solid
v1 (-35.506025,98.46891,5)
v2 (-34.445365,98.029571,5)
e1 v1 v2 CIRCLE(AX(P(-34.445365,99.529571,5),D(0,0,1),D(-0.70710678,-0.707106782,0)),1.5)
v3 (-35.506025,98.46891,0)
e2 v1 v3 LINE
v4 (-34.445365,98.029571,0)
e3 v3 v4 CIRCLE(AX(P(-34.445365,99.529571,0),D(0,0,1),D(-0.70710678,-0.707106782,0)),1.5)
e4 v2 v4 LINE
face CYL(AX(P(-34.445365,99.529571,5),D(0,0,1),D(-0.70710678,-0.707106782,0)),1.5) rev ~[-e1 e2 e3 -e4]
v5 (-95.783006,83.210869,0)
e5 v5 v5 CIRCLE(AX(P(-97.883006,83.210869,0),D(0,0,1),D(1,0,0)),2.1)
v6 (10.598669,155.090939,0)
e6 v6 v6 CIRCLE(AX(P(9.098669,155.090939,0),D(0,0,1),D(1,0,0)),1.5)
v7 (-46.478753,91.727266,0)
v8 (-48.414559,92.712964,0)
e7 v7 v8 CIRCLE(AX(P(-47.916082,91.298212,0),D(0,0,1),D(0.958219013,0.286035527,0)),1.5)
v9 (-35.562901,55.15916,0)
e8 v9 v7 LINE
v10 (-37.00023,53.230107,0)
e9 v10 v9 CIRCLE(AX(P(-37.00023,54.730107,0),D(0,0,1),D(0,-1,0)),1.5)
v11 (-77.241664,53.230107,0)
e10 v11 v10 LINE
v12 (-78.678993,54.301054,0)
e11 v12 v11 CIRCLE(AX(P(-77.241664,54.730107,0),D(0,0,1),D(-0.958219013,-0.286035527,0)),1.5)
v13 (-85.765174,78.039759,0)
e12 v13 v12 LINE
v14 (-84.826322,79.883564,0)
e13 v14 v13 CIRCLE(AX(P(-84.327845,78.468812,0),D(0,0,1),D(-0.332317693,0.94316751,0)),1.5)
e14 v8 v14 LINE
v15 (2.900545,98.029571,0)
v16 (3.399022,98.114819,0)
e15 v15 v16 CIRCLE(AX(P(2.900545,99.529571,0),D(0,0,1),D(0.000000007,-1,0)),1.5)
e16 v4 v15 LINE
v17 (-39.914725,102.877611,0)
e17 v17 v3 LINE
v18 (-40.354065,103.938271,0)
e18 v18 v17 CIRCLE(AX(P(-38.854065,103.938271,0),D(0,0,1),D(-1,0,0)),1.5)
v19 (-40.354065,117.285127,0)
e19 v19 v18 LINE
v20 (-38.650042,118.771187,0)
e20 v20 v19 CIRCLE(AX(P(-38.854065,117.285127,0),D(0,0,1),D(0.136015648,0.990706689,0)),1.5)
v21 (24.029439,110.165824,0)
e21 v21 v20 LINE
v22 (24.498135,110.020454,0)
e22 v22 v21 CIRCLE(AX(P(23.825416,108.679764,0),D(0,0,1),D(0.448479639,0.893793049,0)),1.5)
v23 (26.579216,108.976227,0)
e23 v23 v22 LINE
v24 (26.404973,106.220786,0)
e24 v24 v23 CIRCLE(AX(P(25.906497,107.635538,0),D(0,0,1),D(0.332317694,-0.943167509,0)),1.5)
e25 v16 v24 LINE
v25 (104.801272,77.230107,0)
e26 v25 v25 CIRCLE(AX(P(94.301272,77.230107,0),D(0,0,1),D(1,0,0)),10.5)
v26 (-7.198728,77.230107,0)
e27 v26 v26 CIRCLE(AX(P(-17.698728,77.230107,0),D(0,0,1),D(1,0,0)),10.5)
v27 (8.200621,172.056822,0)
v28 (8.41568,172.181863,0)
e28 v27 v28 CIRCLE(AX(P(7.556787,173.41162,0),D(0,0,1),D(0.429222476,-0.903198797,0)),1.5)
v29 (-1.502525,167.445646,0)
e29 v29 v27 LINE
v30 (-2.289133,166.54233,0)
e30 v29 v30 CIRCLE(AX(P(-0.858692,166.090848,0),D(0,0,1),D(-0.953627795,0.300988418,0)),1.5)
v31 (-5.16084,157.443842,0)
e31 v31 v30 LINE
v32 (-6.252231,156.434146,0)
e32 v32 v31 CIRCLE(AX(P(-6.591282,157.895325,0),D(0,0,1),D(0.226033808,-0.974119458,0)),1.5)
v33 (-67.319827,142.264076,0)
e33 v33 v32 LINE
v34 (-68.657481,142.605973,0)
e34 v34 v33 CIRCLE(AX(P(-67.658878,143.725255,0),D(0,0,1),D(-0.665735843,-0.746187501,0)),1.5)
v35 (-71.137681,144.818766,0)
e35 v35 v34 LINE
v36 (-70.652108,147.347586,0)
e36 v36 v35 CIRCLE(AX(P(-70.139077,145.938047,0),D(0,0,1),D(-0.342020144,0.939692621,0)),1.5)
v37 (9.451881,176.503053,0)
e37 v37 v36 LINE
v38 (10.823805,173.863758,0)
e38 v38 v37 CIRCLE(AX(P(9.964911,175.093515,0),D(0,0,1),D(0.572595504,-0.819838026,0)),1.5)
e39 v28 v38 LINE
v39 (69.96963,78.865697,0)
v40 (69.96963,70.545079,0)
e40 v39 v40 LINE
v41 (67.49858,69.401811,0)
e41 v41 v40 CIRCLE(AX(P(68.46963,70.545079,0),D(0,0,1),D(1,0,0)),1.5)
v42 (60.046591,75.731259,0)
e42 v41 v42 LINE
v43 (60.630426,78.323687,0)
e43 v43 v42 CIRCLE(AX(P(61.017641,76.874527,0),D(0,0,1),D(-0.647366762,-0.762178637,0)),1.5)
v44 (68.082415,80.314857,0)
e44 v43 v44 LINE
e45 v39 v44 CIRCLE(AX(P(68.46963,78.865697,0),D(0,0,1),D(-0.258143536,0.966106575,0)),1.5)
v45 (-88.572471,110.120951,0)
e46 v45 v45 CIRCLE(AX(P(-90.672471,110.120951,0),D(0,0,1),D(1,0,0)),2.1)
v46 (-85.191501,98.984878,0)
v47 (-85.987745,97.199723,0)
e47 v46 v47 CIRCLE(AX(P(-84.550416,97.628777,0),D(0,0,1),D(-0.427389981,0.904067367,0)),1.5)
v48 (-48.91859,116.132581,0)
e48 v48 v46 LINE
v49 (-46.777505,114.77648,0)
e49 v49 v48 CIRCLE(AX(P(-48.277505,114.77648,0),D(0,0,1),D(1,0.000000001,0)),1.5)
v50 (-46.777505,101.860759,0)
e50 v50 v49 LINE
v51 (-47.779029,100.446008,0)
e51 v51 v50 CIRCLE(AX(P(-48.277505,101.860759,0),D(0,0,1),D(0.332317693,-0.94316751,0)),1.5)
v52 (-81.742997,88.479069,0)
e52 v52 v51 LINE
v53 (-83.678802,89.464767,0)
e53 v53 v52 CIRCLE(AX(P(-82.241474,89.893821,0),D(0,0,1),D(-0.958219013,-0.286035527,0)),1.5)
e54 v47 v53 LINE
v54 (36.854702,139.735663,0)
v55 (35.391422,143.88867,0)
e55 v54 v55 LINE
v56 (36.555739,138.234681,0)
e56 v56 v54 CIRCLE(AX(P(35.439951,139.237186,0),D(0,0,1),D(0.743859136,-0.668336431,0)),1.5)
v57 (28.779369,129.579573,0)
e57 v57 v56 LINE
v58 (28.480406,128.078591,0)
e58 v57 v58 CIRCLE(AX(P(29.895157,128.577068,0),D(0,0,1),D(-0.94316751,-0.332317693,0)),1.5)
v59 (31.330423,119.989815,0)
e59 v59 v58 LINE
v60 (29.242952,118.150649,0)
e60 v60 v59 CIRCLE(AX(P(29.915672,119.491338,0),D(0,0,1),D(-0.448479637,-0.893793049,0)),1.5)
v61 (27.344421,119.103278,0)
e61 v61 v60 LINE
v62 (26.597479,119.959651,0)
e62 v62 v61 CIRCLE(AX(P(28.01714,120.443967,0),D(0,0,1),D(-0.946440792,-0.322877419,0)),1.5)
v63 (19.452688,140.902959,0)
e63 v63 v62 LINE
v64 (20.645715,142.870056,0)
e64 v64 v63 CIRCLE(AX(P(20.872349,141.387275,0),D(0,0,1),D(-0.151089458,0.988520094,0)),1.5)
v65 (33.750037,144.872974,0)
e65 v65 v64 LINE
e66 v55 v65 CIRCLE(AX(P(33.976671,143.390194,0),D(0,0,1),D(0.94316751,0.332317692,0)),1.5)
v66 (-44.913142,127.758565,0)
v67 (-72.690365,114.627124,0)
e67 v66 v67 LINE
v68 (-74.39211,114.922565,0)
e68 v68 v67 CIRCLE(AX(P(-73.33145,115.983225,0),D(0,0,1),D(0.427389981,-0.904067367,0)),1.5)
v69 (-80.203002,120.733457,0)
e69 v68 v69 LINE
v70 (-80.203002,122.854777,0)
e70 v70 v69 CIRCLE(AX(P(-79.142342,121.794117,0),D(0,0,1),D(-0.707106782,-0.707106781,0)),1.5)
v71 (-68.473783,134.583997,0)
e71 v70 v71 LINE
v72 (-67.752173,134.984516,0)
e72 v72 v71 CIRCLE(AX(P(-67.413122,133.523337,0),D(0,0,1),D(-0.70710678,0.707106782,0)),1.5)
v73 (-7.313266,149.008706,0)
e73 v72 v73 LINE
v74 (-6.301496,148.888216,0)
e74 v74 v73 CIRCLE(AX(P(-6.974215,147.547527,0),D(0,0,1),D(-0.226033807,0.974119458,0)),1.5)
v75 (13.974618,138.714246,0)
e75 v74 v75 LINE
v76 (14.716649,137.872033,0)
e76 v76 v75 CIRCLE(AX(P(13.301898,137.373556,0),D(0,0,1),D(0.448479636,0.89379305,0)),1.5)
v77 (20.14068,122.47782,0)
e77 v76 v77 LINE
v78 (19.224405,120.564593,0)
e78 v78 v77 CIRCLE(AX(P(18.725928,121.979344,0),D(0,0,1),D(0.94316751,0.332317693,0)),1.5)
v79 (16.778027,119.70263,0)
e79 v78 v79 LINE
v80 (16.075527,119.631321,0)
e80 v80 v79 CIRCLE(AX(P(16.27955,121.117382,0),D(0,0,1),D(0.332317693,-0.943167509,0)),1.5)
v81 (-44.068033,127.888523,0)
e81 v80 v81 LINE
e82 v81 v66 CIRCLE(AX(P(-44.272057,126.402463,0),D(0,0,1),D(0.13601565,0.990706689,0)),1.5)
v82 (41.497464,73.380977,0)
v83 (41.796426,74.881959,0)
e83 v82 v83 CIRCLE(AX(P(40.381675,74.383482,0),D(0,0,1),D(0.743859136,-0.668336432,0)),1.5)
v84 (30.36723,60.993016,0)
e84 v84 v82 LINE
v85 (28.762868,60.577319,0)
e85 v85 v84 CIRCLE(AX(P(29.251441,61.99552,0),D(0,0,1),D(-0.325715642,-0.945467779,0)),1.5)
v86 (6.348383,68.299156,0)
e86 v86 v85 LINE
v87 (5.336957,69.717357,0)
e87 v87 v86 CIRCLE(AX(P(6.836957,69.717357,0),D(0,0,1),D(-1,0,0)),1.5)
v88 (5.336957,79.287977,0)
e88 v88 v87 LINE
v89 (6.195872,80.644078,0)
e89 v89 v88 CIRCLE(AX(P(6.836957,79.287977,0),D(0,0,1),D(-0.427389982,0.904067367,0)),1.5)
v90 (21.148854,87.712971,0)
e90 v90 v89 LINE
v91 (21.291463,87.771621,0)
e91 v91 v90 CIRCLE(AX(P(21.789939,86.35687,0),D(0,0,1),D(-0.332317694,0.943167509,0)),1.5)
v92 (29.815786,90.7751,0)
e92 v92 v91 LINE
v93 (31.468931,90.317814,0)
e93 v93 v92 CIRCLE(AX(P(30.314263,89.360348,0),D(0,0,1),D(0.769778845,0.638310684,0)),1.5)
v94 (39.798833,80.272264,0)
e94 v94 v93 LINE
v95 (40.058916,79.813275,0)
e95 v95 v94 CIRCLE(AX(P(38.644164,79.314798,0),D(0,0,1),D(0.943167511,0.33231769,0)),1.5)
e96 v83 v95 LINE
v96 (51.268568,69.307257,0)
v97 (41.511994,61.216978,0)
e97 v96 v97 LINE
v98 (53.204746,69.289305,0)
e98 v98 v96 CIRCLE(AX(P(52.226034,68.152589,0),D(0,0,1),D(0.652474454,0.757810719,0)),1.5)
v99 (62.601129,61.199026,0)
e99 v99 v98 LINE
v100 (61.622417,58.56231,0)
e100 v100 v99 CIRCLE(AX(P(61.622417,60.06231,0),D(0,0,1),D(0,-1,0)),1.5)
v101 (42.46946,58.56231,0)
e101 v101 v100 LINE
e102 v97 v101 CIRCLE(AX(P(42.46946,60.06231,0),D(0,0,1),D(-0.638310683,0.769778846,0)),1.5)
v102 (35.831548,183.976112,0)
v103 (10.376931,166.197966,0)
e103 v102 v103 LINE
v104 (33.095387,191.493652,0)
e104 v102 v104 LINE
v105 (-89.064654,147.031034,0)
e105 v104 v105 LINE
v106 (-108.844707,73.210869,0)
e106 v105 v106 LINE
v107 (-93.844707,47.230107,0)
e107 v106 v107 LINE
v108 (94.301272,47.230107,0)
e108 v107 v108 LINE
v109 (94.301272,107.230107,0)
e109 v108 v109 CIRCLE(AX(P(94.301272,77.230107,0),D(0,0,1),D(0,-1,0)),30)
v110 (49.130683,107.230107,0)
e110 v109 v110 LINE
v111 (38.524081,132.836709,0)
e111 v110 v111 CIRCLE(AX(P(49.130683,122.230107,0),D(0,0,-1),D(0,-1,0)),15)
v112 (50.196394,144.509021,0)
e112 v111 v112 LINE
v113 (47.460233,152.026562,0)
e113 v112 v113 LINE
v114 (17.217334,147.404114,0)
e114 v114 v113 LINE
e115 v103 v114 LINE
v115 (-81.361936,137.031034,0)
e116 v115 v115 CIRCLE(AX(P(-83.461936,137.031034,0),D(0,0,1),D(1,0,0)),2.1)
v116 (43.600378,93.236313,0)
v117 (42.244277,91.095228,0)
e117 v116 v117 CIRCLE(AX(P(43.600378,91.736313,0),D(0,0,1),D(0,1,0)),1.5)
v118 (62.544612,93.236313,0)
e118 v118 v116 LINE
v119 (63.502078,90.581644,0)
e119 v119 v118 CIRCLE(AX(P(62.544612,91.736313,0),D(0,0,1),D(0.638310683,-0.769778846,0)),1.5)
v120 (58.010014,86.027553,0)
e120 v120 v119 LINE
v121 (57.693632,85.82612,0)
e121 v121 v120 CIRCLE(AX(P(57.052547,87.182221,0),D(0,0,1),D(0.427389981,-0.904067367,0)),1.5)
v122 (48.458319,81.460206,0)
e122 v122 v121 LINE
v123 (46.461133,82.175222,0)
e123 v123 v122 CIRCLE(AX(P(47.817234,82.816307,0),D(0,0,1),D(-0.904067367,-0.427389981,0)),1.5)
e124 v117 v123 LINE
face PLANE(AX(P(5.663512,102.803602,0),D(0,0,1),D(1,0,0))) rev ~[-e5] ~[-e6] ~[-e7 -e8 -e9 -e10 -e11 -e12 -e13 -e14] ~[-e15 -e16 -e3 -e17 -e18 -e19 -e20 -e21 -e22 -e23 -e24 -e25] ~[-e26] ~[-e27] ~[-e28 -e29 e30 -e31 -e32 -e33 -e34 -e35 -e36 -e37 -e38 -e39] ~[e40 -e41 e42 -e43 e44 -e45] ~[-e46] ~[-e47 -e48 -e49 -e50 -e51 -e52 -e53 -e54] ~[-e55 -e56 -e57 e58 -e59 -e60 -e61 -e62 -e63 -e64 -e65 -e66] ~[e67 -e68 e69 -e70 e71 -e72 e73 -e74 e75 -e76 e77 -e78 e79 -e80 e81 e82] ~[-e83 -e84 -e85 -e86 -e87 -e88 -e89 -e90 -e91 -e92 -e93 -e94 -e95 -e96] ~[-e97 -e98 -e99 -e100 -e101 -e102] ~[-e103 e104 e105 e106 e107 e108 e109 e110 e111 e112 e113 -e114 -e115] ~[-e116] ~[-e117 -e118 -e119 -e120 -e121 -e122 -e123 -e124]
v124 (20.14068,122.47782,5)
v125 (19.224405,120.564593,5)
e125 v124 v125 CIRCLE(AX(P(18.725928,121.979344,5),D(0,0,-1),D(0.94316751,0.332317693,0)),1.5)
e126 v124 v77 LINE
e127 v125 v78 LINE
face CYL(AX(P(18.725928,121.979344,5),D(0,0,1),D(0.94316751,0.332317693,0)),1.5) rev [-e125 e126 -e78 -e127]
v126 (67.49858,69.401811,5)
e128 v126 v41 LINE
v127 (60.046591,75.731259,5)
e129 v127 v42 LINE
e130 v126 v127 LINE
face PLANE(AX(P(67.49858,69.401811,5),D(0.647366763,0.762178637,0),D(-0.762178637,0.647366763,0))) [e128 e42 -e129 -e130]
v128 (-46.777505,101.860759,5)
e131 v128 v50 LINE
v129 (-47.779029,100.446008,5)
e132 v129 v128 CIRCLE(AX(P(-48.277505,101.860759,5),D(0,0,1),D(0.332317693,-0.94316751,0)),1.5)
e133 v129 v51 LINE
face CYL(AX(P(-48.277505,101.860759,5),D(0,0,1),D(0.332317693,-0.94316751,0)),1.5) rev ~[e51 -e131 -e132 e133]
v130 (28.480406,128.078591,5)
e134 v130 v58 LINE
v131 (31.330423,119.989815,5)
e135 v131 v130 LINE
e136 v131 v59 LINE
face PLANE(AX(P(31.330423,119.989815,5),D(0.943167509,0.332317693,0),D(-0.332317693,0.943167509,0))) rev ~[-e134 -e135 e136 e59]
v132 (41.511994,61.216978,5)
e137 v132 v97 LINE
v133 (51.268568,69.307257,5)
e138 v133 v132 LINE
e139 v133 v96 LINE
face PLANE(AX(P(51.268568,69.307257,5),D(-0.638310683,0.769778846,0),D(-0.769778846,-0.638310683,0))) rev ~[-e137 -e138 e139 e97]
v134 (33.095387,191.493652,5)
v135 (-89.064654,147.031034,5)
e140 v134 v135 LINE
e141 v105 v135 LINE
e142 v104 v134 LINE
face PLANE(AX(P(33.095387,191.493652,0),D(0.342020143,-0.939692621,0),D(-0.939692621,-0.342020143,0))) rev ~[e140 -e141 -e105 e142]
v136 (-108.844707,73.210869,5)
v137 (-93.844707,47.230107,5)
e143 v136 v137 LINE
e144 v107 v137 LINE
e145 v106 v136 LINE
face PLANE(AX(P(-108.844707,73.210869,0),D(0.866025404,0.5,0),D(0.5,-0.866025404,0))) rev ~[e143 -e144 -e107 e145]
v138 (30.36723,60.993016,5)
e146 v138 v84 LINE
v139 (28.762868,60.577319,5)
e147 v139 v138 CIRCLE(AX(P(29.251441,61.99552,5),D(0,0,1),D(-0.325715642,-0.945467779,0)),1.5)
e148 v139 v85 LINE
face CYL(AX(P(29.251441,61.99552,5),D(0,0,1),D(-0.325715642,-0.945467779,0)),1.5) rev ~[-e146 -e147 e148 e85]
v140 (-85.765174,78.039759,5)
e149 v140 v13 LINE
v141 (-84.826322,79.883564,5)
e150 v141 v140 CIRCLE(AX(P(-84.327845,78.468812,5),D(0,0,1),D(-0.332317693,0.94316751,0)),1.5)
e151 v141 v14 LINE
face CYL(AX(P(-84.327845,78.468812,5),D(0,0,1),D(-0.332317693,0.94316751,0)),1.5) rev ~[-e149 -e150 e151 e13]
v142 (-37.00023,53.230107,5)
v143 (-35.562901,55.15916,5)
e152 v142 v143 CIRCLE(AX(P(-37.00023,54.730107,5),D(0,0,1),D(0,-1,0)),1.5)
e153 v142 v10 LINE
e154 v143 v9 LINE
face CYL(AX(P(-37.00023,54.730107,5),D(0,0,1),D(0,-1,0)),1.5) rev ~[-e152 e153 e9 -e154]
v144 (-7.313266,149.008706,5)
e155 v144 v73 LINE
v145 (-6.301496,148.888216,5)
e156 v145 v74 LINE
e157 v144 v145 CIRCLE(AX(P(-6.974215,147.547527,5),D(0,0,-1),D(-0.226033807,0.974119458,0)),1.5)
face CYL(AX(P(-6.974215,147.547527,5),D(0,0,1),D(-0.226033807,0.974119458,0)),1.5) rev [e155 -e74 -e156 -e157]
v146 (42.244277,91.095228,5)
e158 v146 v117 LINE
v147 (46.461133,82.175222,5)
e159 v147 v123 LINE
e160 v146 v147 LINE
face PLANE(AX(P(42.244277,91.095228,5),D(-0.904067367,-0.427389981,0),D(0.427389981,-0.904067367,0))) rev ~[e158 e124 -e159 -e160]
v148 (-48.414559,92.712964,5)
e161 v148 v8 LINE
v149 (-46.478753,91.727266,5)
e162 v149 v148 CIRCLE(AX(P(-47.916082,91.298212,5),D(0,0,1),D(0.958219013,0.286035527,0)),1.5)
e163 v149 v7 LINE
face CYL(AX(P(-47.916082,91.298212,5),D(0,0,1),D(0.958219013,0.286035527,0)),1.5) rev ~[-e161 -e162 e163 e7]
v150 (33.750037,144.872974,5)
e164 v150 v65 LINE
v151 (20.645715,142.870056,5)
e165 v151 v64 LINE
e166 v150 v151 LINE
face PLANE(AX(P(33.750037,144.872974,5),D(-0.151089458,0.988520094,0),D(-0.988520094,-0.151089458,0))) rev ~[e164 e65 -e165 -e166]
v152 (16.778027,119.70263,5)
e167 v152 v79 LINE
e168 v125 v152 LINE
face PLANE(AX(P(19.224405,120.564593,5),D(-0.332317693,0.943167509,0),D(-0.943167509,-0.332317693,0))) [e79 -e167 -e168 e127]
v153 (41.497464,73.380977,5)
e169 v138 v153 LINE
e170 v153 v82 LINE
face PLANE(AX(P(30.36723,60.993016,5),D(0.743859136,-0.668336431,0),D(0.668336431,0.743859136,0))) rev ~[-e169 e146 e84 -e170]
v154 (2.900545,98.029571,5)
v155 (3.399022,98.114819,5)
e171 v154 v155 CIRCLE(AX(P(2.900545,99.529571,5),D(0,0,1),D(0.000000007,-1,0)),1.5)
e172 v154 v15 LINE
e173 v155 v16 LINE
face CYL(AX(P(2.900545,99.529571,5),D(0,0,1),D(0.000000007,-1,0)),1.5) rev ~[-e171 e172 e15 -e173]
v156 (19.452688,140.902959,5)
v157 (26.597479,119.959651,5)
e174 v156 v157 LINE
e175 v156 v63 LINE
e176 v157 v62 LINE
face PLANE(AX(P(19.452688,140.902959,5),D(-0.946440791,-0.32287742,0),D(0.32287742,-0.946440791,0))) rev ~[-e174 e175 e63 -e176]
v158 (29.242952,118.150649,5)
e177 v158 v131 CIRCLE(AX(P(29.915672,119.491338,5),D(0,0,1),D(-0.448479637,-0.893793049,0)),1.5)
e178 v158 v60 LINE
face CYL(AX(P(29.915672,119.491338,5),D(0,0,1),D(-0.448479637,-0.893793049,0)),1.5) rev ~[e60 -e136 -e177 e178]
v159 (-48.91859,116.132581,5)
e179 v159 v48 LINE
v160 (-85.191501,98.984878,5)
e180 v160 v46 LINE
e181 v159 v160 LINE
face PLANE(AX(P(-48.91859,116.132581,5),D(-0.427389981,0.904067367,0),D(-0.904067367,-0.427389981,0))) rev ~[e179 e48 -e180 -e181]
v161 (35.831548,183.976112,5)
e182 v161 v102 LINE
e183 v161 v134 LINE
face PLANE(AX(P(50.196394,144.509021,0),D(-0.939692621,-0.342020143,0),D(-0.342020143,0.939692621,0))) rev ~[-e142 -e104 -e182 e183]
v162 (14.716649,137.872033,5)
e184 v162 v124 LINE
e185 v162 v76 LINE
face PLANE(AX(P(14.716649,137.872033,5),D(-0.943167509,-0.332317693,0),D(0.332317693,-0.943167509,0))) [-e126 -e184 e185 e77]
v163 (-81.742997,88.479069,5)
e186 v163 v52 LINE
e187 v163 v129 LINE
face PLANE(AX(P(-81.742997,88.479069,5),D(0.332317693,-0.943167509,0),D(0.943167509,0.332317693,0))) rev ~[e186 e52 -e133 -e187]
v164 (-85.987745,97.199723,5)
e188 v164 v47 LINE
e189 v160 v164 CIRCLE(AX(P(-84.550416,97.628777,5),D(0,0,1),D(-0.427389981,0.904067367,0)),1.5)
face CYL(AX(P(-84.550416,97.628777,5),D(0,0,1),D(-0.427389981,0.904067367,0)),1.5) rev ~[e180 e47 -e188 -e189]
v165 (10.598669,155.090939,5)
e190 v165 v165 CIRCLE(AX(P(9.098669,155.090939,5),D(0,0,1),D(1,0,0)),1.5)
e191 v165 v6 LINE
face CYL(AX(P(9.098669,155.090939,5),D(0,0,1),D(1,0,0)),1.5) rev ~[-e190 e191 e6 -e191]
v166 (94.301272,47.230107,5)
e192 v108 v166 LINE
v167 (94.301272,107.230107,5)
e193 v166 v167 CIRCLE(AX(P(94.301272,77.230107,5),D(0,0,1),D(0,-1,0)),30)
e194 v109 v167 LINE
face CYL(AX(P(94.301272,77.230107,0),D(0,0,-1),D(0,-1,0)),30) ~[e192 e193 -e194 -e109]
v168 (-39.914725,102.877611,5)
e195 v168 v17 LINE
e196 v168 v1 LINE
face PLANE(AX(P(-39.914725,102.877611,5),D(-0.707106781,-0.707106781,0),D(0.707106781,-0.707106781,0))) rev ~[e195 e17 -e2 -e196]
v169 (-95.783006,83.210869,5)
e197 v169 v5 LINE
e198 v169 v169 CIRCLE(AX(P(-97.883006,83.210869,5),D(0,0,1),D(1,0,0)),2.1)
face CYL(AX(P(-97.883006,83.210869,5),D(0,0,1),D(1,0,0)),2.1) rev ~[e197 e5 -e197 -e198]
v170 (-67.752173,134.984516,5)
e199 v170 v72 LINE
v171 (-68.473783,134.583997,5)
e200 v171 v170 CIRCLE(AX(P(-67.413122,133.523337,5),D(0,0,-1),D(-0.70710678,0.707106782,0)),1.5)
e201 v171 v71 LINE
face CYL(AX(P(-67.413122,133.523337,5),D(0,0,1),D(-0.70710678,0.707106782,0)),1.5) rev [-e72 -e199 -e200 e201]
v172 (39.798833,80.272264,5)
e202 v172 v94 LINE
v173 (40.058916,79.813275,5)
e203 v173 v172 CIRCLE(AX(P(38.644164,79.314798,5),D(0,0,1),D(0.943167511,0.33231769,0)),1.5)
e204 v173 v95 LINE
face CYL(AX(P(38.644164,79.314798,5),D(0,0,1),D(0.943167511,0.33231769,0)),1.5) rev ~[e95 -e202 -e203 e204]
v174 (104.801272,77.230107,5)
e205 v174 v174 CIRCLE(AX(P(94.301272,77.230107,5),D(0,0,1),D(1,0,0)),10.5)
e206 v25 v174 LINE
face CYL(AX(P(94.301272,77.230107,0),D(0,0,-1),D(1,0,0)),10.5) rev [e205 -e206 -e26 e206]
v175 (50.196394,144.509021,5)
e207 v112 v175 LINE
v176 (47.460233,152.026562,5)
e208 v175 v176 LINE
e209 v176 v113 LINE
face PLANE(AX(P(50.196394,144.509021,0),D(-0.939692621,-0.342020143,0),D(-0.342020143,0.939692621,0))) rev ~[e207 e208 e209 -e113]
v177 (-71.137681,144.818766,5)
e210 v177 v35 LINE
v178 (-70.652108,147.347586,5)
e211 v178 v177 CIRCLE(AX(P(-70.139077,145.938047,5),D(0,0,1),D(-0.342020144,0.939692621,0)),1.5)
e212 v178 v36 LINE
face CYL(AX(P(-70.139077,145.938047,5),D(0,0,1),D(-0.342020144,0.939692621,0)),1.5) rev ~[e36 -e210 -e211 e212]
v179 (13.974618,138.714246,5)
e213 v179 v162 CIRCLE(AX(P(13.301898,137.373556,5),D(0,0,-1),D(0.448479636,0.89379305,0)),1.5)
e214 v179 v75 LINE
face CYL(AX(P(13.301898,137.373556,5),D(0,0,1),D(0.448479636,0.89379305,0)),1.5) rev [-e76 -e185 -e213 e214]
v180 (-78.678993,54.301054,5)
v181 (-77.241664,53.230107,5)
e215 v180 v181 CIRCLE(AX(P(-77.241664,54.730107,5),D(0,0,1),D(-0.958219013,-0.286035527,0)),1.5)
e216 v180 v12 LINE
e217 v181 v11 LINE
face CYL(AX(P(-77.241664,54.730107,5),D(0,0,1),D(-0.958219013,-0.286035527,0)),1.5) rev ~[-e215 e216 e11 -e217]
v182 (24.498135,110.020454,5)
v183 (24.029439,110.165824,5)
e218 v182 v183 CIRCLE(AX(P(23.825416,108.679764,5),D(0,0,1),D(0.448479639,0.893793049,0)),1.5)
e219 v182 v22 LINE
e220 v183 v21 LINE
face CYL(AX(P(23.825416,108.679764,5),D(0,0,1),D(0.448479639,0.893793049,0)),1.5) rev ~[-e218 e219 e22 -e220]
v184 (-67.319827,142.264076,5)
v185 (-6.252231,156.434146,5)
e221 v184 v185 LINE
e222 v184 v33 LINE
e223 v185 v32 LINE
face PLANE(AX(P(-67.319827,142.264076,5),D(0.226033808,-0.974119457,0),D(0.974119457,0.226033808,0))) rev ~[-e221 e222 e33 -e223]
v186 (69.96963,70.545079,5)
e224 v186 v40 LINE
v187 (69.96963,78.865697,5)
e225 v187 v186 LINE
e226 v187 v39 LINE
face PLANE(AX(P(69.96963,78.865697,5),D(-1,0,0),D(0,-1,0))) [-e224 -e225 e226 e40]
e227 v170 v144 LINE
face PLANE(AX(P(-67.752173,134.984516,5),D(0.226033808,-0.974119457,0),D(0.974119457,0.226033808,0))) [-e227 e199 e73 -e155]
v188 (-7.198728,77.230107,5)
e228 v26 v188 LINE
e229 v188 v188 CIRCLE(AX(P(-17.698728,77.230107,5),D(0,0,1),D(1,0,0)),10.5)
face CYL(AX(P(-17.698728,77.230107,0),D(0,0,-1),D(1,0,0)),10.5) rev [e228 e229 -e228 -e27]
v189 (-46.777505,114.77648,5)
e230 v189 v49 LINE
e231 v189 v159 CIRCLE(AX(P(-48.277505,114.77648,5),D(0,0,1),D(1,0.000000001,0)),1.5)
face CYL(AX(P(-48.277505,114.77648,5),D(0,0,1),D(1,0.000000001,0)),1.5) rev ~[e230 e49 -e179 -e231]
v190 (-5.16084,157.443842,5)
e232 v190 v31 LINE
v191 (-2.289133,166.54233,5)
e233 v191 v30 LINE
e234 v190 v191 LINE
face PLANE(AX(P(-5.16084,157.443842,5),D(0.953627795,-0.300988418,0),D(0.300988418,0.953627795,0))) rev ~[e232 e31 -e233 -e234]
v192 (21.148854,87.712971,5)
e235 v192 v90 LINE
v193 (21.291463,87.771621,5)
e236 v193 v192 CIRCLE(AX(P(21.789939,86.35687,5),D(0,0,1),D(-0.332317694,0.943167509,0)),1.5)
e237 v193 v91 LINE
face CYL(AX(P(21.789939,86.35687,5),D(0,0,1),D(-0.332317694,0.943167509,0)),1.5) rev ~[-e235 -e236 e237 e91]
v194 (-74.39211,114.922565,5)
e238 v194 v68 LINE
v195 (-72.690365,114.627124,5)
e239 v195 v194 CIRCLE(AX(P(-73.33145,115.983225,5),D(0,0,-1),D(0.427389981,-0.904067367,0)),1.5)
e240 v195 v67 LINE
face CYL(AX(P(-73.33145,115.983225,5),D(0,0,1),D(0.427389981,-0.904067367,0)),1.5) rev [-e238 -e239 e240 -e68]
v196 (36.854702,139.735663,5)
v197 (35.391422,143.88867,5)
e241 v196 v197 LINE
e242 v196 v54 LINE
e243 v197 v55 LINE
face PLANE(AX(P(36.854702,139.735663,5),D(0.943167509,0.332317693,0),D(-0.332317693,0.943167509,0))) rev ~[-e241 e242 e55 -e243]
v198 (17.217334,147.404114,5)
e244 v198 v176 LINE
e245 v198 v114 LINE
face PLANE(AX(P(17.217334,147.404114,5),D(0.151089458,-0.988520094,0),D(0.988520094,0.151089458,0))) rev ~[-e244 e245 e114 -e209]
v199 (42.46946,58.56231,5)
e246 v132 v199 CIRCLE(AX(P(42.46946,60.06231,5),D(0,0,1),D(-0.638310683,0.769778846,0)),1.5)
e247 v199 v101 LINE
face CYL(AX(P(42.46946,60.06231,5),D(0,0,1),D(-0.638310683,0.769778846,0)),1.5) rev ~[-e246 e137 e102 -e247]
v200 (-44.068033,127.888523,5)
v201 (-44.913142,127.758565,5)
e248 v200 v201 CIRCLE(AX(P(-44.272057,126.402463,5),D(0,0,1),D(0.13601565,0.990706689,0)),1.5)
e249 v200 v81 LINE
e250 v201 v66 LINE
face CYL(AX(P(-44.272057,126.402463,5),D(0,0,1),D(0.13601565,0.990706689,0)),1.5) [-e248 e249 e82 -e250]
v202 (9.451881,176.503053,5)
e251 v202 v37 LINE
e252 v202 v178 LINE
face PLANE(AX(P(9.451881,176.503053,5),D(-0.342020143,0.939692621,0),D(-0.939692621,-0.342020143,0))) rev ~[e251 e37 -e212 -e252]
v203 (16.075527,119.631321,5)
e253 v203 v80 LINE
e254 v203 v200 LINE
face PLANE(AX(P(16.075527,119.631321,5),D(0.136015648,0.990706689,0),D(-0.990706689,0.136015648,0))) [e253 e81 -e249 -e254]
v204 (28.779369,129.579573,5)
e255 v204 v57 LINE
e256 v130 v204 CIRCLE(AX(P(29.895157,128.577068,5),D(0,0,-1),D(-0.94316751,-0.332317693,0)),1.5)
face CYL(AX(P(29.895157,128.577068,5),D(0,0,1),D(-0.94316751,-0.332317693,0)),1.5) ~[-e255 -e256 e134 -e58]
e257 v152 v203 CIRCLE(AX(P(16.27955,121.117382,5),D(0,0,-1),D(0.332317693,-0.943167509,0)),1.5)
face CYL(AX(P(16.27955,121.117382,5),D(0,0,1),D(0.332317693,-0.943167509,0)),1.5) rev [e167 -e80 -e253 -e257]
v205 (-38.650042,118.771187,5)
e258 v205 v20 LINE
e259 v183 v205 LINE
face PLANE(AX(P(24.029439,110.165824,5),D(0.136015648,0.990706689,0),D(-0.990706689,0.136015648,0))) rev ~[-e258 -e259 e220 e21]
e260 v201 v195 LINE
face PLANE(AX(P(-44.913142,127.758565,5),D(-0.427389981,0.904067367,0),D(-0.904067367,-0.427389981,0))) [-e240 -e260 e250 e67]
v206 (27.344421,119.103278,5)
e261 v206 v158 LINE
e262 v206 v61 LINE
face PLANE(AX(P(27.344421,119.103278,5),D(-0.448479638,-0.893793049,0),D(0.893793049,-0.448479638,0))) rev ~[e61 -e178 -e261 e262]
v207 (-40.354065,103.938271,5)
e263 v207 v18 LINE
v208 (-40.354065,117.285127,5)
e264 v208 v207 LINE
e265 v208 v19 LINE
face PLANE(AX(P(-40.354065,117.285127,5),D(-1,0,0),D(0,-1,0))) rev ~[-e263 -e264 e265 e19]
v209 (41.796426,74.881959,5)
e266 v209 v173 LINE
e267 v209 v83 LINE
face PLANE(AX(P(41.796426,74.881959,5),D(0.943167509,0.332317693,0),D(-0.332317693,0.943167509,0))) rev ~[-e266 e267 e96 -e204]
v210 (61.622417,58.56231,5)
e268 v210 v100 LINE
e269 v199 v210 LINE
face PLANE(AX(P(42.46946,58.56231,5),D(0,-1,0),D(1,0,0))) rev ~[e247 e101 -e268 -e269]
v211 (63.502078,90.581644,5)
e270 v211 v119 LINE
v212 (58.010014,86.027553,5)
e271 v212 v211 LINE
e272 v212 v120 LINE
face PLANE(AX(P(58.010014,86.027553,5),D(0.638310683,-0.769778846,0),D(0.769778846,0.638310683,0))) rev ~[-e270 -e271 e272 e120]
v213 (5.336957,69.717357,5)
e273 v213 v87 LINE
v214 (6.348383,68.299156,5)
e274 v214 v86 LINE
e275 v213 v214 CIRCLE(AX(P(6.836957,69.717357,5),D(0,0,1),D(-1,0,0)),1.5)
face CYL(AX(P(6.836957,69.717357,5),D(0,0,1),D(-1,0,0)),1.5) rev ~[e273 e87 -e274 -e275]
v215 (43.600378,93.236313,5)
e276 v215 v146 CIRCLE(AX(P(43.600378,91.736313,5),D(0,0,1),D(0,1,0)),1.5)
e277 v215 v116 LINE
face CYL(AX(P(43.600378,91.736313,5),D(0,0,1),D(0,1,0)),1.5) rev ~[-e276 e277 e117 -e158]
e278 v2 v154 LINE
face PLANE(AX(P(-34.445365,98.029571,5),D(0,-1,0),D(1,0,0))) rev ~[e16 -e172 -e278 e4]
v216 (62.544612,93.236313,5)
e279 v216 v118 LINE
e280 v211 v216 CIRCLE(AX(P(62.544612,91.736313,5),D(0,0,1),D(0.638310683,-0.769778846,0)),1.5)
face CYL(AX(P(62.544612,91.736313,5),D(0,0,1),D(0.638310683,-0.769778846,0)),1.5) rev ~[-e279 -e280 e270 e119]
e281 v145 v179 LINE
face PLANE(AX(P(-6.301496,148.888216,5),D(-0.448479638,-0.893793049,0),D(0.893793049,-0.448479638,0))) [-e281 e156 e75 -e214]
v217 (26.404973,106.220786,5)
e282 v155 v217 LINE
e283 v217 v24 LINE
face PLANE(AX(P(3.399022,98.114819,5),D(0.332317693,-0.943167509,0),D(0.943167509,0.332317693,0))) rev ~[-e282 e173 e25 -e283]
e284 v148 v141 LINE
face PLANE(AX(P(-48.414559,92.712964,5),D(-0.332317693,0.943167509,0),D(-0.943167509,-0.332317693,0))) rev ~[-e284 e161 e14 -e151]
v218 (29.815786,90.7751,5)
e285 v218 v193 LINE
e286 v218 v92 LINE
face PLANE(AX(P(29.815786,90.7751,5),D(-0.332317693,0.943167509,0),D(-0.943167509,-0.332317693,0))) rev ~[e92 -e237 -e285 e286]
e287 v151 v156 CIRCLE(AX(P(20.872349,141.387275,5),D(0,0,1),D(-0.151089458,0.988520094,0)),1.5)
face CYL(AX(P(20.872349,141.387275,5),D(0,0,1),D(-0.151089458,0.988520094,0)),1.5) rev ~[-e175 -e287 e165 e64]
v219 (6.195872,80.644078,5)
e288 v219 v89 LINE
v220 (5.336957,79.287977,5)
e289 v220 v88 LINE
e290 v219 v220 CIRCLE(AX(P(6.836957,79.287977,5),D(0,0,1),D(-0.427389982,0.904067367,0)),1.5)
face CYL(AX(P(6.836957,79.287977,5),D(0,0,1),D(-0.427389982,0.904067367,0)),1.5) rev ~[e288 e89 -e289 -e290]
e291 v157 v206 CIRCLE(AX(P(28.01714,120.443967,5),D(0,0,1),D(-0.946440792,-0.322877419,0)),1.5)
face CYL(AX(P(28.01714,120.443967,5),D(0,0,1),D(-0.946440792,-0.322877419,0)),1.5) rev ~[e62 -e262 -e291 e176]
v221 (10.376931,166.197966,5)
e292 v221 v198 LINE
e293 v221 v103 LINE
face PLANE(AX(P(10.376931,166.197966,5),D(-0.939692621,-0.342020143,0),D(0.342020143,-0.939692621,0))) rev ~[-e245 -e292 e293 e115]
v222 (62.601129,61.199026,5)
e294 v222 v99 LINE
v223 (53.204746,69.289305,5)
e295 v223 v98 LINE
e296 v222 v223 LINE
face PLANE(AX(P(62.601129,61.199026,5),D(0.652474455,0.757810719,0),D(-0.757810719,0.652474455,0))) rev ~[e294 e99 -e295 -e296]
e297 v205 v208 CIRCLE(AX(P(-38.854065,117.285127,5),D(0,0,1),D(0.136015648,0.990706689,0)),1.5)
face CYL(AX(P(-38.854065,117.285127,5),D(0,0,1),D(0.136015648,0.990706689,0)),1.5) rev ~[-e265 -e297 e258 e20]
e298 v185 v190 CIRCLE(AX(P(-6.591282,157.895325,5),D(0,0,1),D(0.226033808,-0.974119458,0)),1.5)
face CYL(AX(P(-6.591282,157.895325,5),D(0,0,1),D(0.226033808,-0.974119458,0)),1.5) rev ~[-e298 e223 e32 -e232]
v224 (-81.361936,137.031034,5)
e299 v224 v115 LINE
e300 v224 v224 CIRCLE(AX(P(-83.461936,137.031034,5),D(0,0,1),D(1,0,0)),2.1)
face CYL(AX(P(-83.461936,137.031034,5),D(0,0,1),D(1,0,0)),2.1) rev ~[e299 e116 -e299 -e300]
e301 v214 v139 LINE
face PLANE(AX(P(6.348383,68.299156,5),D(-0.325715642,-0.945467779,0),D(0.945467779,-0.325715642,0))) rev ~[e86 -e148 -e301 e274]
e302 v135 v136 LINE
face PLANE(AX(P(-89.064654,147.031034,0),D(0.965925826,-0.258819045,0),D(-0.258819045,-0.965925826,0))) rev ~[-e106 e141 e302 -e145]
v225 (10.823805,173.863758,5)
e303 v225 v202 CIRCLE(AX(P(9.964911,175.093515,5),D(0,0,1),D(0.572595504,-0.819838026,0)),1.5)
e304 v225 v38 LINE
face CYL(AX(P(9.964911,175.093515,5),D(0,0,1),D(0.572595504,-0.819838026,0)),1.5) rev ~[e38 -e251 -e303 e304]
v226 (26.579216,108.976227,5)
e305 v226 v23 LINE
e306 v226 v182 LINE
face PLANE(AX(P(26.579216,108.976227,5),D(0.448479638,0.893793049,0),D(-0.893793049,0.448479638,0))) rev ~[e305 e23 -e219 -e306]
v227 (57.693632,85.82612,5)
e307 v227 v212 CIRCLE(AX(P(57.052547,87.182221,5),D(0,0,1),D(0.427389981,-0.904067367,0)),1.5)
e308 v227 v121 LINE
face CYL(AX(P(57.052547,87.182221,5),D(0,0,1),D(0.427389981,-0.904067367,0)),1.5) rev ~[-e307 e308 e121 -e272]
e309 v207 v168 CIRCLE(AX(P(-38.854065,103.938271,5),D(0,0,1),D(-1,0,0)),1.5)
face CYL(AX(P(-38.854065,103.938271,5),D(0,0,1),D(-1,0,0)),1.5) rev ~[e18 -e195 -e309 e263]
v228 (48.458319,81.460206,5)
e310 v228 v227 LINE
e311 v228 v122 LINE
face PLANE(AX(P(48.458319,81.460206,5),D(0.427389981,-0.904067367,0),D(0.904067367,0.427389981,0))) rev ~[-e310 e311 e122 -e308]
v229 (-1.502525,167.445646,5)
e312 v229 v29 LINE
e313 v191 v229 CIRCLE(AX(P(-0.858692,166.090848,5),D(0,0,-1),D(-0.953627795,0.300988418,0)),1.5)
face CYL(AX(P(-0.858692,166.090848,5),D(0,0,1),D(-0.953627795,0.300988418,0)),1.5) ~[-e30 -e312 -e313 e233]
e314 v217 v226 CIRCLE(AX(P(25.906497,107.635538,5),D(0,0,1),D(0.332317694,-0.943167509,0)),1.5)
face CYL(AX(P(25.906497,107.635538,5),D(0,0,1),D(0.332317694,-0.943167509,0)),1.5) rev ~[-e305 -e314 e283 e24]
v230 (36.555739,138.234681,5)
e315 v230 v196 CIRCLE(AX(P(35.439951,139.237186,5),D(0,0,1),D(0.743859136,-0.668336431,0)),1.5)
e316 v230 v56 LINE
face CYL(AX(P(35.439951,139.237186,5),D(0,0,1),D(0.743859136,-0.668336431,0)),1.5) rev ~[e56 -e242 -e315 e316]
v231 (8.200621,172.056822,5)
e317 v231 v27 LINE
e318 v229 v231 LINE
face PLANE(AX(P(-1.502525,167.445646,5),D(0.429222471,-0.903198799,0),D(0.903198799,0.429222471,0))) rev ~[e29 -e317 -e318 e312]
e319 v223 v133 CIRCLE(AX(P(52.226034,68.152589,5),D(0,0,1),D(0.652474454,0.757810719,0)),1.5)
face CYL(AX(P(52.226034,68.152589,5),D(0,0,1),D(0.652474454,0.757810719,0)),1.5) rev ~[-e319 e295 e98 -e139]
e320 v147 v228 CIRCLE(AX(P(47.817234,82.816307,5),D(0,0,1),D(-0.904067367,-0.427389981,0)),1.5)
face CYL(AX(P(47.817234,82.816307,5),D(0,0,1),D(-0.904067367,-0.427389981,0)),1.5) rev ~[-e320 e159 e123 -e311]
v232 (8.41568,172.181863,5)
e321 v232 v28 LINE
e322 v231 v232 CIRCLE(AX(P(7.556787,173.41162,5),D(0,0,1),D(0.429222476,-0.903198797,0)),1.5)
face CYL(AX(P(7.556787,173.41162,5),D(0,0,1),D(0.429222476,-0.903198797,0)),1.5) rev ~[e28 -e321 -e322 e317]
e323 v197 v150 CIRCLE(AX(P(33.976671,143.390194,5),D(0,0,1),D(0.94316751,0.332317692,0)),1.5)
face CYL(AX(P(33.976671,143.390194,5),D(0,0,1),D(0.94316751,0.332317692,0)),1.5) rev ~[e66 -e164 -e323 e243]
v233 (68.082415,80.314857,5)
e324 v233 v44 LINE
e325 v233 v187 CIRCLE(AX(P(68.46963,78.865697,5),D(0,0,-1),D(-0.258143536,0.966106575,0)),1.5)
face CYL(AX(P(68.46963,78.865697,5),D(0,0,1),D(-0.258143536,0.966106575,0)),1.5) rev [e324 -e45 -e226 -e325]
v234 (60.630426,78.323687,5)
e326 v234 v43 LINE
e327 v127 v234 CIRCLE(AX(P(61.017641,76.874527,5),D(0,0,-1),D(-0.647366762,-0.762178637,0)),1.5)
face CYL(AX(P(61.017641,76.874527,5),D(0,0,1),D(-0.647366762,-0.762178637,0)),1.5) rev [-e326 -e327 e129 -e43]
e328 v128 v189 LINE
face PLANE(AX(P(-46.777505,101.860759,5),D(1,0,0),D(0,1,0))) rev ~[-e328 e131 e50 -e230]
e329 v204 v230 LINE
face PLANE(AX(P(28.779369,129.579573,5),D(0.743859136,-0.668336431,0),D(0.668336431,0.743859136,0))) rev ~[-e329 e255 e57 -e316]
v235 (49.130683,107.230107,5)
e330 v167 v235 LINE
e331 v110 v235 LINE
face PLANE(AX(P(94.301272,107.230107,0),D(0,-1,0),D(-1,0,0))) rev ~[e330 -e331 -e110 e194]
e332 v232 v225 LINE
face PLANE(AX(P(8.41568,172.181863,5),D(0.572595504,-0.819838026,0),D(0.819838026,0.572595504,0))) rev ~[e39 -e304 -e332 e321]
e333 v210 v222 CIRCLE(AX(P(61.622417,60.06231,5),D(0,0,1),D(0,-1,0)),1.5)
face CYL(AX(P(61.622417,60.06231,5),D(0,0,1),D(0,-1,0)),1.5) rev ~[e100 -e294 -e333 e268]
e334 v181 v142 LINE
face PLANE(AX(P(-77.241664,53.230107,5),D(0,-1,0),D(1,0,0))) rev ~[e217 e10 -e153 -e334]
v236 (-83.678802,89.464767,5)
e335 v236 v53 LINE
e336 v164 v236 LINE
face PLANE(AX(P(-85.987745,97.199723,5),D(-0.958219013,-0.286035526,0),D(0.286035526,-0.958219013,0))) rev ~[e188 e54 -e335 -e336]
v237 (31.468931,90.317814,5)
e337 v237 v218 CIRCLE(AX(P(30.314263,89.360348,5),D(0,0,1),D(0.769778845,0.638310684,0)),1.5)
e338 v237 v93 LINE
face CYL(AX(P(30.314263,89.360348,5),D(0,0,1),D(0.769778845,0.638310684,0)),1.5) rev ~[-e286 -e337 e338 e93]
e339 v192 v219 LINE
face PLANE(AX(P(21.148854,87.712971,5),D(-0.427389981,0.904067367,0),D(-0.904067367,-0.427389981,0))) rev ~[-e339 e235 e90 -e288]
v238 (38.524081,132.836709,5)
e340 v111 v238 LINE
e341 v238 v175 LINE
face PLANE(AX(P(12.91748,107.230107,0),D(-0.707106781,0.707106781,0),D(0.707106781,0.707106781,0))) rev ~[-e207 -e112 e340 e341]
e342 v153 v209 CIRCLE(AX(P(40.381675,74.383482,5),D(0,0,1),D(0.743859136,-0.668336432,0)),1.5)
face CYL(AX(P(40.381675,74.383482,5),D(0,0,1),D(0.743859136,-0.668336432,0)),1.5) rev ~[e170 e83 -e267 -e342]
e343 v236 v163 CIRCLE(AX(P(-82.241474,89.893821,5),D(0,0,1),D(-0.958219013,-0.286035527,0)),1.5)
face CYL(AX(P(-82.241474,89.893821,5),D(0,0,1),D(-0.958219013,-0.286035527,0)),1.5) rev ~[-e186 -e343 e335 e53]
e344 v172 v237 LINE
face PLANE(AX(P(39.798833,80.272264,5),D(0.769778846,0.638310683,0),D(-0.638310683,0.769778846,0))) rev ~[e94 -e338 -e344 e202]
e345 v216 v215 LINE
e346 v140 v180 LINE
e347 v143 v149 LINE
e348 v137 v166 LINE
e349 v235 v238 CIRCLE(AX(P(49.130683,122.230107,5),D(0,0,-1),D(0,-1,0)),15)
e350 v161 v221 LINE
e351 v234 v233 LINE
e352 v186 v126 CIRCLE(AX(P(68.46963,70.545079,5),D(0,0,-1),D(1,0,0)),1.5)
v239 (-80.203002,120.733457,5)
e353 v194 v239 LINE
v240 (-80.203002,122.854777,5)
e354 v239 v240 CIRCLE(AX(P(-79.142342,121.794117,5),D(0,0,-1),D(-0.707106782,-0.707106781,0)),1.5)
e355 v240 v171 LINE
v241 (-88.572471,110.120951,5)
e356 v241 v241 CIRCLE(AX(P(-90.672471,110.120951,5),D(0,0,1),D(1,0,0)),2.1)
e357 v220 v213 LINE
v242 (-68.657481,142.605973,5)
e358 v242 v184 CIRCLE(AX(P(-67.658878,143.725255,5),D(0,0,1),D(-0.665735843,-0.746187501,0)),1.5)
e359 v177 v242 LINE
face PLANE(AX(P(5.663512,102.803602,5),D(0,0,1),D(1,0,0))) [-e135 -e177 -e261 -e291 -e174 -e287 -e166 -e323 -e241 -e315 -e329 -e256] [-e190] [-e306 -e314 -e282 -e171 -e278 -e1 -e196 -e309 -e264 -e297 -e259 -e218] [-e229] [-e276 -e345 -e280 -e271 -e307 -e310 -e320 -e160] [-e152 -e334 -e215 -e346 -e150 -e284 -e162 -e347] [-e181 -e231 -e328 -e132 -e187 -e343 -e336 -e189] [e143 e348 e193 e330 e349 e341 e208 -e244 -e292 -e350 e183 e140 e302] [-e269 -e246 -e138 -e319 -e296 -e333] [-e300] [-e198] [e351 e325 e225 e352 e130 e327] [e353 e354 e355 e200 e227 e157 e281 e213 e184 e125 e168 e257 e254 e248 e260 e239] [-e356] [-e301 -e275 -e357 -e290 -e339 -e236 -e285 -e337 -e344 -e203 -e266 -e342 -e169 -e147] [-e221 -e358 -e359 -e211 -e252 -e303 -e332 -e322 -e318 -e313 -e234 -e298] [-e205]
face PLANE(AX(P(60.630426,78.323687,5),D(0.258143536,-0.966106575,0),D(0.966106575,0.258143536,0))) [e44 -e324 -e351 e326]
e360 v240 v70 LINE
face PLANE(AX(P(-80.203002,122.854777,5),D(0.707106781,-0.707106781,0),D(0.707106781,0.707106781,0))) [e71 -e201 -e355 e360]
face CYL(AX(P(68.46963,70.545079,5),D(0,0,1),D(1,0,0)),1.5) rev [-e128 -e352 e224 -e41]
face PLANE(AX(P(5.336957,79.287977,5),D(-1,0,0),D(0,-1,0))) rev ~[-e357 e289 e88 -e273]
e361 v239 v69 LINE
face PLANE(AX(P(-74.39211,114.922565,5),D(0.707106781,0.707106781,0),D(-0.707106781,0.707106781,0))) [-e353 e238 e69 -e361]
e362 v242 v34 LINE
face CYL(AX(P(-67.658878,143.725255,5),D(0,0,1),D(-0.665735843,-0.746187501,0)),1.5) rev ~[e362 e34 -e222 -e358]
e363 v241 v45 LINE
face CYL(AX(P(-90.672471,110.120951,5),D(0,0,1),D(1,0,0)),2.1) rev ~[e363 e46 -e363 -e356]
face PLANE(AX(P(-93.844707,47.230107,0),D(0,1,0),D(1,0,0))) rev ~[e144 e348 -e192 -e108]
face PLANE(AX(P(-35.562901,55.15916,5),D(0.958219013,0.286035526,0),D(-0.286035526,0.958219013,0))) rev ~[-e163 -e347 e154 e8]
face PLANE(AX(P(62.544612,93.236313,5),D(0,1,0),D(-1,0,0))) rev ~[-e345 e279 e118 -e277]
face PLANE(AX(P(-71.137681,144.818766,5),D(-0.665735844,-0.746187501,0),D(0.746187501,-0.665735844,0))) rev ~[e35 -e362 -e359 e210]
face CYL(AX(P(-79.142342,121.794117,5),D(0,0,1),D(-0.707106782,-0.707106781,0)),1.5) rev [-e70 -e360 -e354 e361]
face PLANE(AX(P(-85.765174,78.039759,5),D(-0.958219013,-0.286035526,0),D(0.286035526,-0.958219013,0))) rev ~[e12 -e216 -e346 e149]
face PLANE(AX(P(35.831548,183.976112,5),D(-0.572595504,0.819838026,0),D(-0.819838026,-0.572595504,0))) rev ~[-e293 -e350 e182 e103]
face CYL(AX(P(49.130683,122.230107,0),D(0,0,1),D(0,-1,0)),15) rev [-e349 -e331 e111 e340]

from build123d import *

# Parameters (mm, degrees)
SKETCH1_R           = 10.5
BOSS_EXTRUDE1_DEPTH = 5
FILLET1_R           = 15
SKETCH2_R           = 1.5
CUT_EXTRUDE1_DEPTH  = 5
SKETCH4_R           = 2.1
CUT_EXTRUDE3_DEPTH  = 10
CUT_EXTRUDE4_DEPTH  = 10


with BuildPart() as part:
    # Sketch1 → Boss-Extrude1 (new body)
    with BuildSketch(Plane.XY):
        with BuildLine():
            Line((94.301272012, 107.23010703), (12.917479745, 107.23010703))
            Line((12.917479745, 107.23010703), (50.196394157, 144.509021441))
            Line((50.196394157, 144.509021441), (33.09538699, 191.493652481))
            Line((33.09538699, 191.493652481), (-89.064653712, 147.031033848))
            Line((-89.064653712, 147.031033848), (-108.84470723, 73.210869143))
            Line((-108.84470723, 73.210869143), (-93.84470723, 47.23010703))
            Line((-93.84470723, 47.23010703), (94.301272012, 47.23010703))
            ThreePointArc((94.301272012, 47.23010703), (124.301272012, 77.23010703), (94.301272012, 107.23010703))
        make_face()
        with Locations((-17.698727988, 77.23010703)):
            Circle(SKETCH1_R, mode=Mode.SUBTRACT)
        with Locations((94.301272012, 77.23010703)):
            Circle(SKETCH1_R, mode=Mode.SUBTRACT)
    extrude(amount=BOSS_EXTRUDE1_DEPTH)

    # Fillet1
    fillet1_edges = [part.edges().sort_by_distance(p)[0] for p in [
        (12.917479745, 107.23010703, 2.5),
    ]]
    fillet(fillet1_edges, radius=FILLET1_R)

    # Sketch2 → Cut-Extrude1 (cut)
    with BuildSketch(Plane.XY.offset(5)):
        with Locations((9.098668989, 155.090939324)):
            Circle(SKETCH2_R)
        Polygon((35.831548137, 183.976111514), (10.37693066, 166.197966248), (17.217333526, 147.404113833), (47.46023301, 152.026562408), align=None)
    extrude(amount=-CUT_EXTRUDE1_DEPTH, mode=Mode.SUBTRACT)

    # Sketch4 → Cut-Extrude3 (cut)
    with BuildSketch(Plane.XY.offset(5)):
        with Locations((-83.461936193, 137.031033848)):
            Circle(SKETCH4_R)
        with Locations((-90.672471028, 110.120951496)):
            Circle(SKETCH4_R)
        with Locations((-97.883005862, 83.210869143)):
            Circle(SKETCH4_R)
    extrude(amount=-CUT_EXTRUDE3_DEPTH, mode=Mode.SUBTRACT)

    # Sketch5 → Cut-Extrude4 (cut)
    with BuildSketch(Plane.XY.offset(5)):
        with BuildLine():
            Line((-48.918590023, 116.132580639), (-85.191500994, 98.984877604))
            ThreePointArc((-85.191500994, 98.984877604), (-85.920322831, 98.239804651), (-85.987744542, 97.199723264))
            Line((-85.987744542, 97.199723264), (-83.678802495, 89.464767405))
            ThreePointArc((-83.678802495, 89.464767405), (-82.922106683, 88.557131084), (-81.742997435, 88.479069431))
            Line((-81.742997435, 88.479069431), (-47.779028512, 100.446008168))
            ThreePointArc((-47.779028512, 100.446008168), (-47.053226731, 100.994074602), (-46.777505051, 101.860759433))
            Line((-46.777505051, 101.860759433), (-46.777505051, 114.776479588))
            ThreePointArc((-46.777505051, 114.776479588), (-47.474892896, 116.043686646), (-48.918590023, 116.132580639))
        make_face()
        with BuildLine():
            Line((-40.354065156, 117.285126681), (-40.354065156, 103.938271148))
            ThreePointArc((-40.354065156, 103.938271148), (-40.239884455, 103.364246), (-39.914725328, 102.877610977))
            Line((-39.914725328, 102.877610977), (-35.506024812, 98.468910461))
            ThreePointArc((-35.506024812, 98.468910461), (-35.019389788, 98.143751334), (-34.44536464, 98.029570632))
            Line((-34.44536464, 98.029570632), (2.900545466, 98.029570632))
            ThreePointArc((2.900545466, 98.029570632), (3.153402247, 98.05103641), (3.399022006, 98.114819368))
            Line((3.399022006, 98.114819368), (26.404973303, 106.220786324))
            ThreePointArc((26.404973303, 106.220786324), (27.403506638, 107.540872748), (26.579216219, 108.976227162))
            Line((26.579216219, 108.976227162), (24.498135227, 110.020453731))
            ThreePointArc((24.498135227, 110.020453731), (24.269772253, 110.112435549), (24.029439243, 110.16582419))
            Line((24.029439243, 110.16582419), (-38.650041684, 118.771186715))
            ThreePointArc((-38.650041684, 118.771186715), (-39.839956832, 118.415621088), (-40.354065156, 117.285126681))
        make_face()
        with BuildLine():
            Line((-74.392110194, 114.92256466), (-80.203002255, 120.733456721))
            ThreePointArc((-80.203002255, 120.733456721), (-80.642342083, 121.794116893), (-80.203002255, 122.854777065))
            Line((-80.203002255, 122.854777065), (-68.473782604, 134.583996716))
            ThreePointArc((-68.473782604, 134.583996716), (-68.141065775, 134.834861797), (-67.752173145, 134.98451573))
            Line((-67.752173145, 134.98451573), (-7.313265805, 149.008705779))
            ThreePointArc((-7.313265805, 149.008705779), (-6.796836559, 149.037001955), (-6.301495636, 148.888216166))
            Line((-6.301495636, 148.888216166), (13.97461757, 138.714245904))
            ThreePointArc((13.97461757, 138.714245904), (14.427382099, 138.365164015), (14.716649378, 137.87203287))
            Line((14.716649378, 137.87203287), (20.14067974, 122.477820308))
            ThreePointArc((20.14067974, 122.477820308), (20.07878483, 121.331439698), (19.224405015, 120.564592504))
            Line((19.224405015, 120.564592504), (16.778026718, 119.70263025))
            ThreePointArc((16.778026718, 119.70263025), (16.431032479, 119.625050079), (16.075526706, 119.631321481))
            Line((16.075526706, 119.631321481), (-44.068033081, 127.888523484))
            ThreePointArc((-44.068033081, 127.888523484), (-44.500043445, 127.885036207), (-44.913141524, 127.758564501))
            Line((-44.913141524, 127.758564501), (-72.690365051, 114.627123781))
            ThreePointArc((-72.690365051, 114.627123781), (-73.588027819, 114.505331793), (-74.392110194, 114.92256466))
        make_face()
        with BuildLine():
            Line((-85.765173696, 78.039759187), (-78.678992966, 54.30105374))
            ThreePointArc((-78.678992966, 54.30105374), (-78.137884303, 53.527281204), (-77.241664446, 53.23010703))
            Line((-77.241664446, 53.23010703), (-37.000229644, 53.23010703))
            ThreePointArc((-37.000229644, 53.23010703), (-35.797403818, 53.833887172), (-35.562901123, 55.159160319))
            Line((-35.562901123, 55.159160319), (-46.478753465, 91.727265664))
            ThreePointArc((-46.478753465, 91.727265664), (-47.235449276, 92.634901985), (-48.414558525, 92.712963639))
            Line((-48.414558525, 92.712963639), (-84.826321716, 79.88356374))
            ThreePointArc((-84.826321716, 79.88356374), (-85.664534787, 79.149445185), (-85.765173696, 78.039759187))
        make_face()
        with BuildLine():
            Line((-71.137681218, 144.818765729), (-68.657481405, 142.605973483))
            ThreePointArc((-68.657481405, 142.605973483), (-68.030328991, 142.271974344), (-67.319826927, 142.264075548))
            Line((-67.319826927, 142.264075548), (-6.252231197, 156.434145889))
            ThreePointArc((-6.252231197, 156.434145889), (-5.572632004, 156.794256335), (-5.160840216, 157.443842448))
            Line((-5.160840216, 157.443842448), (-2.289133326, 166.54233045))
            ThreePointArc((-2.289133326, 166.54233045), (-1.989907511, 167.075911596), (-1.502525339, 167.445646022))
            Line((-1.502525339, 167.445646022), (8.200620604, 172.056821639))
            ThreePointArc((8.200620604, 172.056821639), (8.310747045, 172.114876187), (8.415680154, 172.181862799))
            Line((8.415680154, 172.181862799), (10.823804629, 173.863757519))
            ThreePointArc((10.823804629, 173.863757519), (11.295841918, 175.785341043), (9.451881159, 176.503053489))
            Line((9.451881159, 176.503053489), (-70.652107667, 147.347585911))
            ThreePointArc((-70.652107667, 147.347585911), (-71.612166791, 146.220903478), (-71.137681218, 144.818765729))
        make_face()
        with BuildLine():
            Line((19.452688101, 140.902959313), (26.597478805, 119.959650962))
            ThreePointArc((26.597478805, 119.959650962), (26.886716152, 119.457994505), (27.344420536, 119.103277518))
            Line((27.344420536, 119.103277518), (29.242952451, 118.150648824))
            ThreePointArc((29.242952451, 118.150648824), (30.907279592, 118.365854413), (31.330423172, 119.989814938))
            Line((31.330423172, 119.989814938), (28.480406053, 128.078591439))
            ThreePointArc((28.480406053, 128.078591439), (28.42405424, 128.870079474), (28.779368612, 129.579572626))
            Line((28.779368612, 129.579572626), (36.555739431, 138.234681359))
            ThreePointArc((36.555739431, 138.234681359), (36.911053804, 138.944174511), (36.854701991, 139.735662546))
            Line((36.854701991, 139.735662546), (35.391422248, 143.888670161))
            ThreePointArc((35.391422248, 143.888670161), (34.74811051, 144.676615426), (33.750036797, 144.872973762))
            Line((33.750036797, 144.872973762), (20.645715101, 142.870055583))
            ThreePointArc((20.645715101, 142.870055583), (19.589797516, 142.165132082), (19.452688101, 140.902959313))
        make_face()
        with BuildLine():
            Line((29.815786136, 90.775099636), (21.291462651, 87.771620945))
            ThreePointArc((21.291462651, 87.771620945), (21.219404291, 87.744129544), (21.148854219, 87.712970731))
            Line((21.148854219, 87.712970731), (6.195871701, 80.644078358))
            ThreePointArc((6.195871701, 80.644078358), (5.569749615, 80.090589463), (5.336956673, 79.287977308))
            Line((5.336956673, 79.287977308), (5.336956673, 69.717357349))
            ThreePointArc((5.336956673, 69.717357349), (5.615715461, 68.846398164), (6.348383209, 68.299155681))
            Line((6.348383209, 68.299155681), (28.762867567, 60.577318579))
            ThreePointArc((28.762867567, 60.577318579), (29.627673329, 60.543470228), (30.367229735, 60.9930156))
            Line((30.367229735, 60.9930156), (41.497463613, 73.380977374))
            ThreePointArc((41.497463613, 73.380977374), (41.852777986, 74.090470526), (41.796426172, 74.88195856))
            Line((41.796426172, 74.88195856), (40.058915507, 79.813274708))
            ThreePointArc((40.058915507, 79.813274708), (39.949210994, 80.054293252), (39.798832512, 80.272264193))
            Line((39.798832512, 80.272264193), (31.468930944, 90.317814397))
            ThreePointArc((31.468930944, 90.317814397), (30.714168094, 90.806057767), (29.815786136, 90.775099636))
        make_face()
        with BuildLine():
            Line((42.24427744, 91.095227742), (46.46113264, 82.175221783))
            ThreePointArc((46.46113264, 82.175221783), (47.311640972, 81.404082975), (48.458318662, 81.460205704))
            Line((48.458318662, 81.460205704), (57.693632468, 85.826119946))
            ThreePointArc((57.693632468, 85.826119946), (57.85814362, 85.916908827), (58.010013522, 86.027552727))
            Line((58.010013522, 86.027552727), (63.502078057, 90.581644445))
            ThreePointArc((63.502078057, 90.581644445), (63.955640452, 92.245231959), (62.544612032, 93.236312714))
            Line((62.544612032, 93.236312714), (43.60037849, 93.236312714))
            ThreePointArc((43.60037849, 93.236312714), (42.333171432, 92.538924869), (42.24427744, 91.095227742))
        make_face()
        with BuildLine():
            Line((51.268567993, 69.307256916), (41.511994194, 61.21697836))
            ThreePointArc((41.511994194, 61.21697836), (41.058431799, 59.553390846), (42.469460219, 58.562310092))
            Line((42.469460219, 58.562310092), (61.622416924, 58.562310092))
            ThreePointArc((61.622416924, 58.562310092), (63.028666211, 59.540330264), (62.601128605, 61.19902617))
            Line((62.601128605, 61.19902617), (53.2047457, 69.289304726))
            ThreePointArc((53.2047457, 69.289304726), (52.239941382, 69.652524174), (51.268567993, 69.307256916))
        make_face()
        with BuildLine():
            Line((67.498580228, 69.401810839), (60.046591123, 75.731258856))
            ThreePointArc((60.046591123, 75.731258856), (59.554291768, 77.204084461), (60.630425962, 78.323686674))
            Line((60.630425962, 78.323686674), (68.082415068, 80.314857078))
            ThreePointArc((68.082415068, 80.314857078), (69.383188538, 80.055407885), (69.969630372, 78.865697215))
            Line((69.969630372, 78.865697215), (69.969630372, 70.545078794))
            ThreePointArc((69.969630372, 70.545078794), (69.099481459, 69.183723731), (67.498580228, 69.401810839))
        make_face()
    extrude(amount=-CUT_EXTRUDE4_DEPTH, mode=Mode.SUBTRACT)


solid = part.part
